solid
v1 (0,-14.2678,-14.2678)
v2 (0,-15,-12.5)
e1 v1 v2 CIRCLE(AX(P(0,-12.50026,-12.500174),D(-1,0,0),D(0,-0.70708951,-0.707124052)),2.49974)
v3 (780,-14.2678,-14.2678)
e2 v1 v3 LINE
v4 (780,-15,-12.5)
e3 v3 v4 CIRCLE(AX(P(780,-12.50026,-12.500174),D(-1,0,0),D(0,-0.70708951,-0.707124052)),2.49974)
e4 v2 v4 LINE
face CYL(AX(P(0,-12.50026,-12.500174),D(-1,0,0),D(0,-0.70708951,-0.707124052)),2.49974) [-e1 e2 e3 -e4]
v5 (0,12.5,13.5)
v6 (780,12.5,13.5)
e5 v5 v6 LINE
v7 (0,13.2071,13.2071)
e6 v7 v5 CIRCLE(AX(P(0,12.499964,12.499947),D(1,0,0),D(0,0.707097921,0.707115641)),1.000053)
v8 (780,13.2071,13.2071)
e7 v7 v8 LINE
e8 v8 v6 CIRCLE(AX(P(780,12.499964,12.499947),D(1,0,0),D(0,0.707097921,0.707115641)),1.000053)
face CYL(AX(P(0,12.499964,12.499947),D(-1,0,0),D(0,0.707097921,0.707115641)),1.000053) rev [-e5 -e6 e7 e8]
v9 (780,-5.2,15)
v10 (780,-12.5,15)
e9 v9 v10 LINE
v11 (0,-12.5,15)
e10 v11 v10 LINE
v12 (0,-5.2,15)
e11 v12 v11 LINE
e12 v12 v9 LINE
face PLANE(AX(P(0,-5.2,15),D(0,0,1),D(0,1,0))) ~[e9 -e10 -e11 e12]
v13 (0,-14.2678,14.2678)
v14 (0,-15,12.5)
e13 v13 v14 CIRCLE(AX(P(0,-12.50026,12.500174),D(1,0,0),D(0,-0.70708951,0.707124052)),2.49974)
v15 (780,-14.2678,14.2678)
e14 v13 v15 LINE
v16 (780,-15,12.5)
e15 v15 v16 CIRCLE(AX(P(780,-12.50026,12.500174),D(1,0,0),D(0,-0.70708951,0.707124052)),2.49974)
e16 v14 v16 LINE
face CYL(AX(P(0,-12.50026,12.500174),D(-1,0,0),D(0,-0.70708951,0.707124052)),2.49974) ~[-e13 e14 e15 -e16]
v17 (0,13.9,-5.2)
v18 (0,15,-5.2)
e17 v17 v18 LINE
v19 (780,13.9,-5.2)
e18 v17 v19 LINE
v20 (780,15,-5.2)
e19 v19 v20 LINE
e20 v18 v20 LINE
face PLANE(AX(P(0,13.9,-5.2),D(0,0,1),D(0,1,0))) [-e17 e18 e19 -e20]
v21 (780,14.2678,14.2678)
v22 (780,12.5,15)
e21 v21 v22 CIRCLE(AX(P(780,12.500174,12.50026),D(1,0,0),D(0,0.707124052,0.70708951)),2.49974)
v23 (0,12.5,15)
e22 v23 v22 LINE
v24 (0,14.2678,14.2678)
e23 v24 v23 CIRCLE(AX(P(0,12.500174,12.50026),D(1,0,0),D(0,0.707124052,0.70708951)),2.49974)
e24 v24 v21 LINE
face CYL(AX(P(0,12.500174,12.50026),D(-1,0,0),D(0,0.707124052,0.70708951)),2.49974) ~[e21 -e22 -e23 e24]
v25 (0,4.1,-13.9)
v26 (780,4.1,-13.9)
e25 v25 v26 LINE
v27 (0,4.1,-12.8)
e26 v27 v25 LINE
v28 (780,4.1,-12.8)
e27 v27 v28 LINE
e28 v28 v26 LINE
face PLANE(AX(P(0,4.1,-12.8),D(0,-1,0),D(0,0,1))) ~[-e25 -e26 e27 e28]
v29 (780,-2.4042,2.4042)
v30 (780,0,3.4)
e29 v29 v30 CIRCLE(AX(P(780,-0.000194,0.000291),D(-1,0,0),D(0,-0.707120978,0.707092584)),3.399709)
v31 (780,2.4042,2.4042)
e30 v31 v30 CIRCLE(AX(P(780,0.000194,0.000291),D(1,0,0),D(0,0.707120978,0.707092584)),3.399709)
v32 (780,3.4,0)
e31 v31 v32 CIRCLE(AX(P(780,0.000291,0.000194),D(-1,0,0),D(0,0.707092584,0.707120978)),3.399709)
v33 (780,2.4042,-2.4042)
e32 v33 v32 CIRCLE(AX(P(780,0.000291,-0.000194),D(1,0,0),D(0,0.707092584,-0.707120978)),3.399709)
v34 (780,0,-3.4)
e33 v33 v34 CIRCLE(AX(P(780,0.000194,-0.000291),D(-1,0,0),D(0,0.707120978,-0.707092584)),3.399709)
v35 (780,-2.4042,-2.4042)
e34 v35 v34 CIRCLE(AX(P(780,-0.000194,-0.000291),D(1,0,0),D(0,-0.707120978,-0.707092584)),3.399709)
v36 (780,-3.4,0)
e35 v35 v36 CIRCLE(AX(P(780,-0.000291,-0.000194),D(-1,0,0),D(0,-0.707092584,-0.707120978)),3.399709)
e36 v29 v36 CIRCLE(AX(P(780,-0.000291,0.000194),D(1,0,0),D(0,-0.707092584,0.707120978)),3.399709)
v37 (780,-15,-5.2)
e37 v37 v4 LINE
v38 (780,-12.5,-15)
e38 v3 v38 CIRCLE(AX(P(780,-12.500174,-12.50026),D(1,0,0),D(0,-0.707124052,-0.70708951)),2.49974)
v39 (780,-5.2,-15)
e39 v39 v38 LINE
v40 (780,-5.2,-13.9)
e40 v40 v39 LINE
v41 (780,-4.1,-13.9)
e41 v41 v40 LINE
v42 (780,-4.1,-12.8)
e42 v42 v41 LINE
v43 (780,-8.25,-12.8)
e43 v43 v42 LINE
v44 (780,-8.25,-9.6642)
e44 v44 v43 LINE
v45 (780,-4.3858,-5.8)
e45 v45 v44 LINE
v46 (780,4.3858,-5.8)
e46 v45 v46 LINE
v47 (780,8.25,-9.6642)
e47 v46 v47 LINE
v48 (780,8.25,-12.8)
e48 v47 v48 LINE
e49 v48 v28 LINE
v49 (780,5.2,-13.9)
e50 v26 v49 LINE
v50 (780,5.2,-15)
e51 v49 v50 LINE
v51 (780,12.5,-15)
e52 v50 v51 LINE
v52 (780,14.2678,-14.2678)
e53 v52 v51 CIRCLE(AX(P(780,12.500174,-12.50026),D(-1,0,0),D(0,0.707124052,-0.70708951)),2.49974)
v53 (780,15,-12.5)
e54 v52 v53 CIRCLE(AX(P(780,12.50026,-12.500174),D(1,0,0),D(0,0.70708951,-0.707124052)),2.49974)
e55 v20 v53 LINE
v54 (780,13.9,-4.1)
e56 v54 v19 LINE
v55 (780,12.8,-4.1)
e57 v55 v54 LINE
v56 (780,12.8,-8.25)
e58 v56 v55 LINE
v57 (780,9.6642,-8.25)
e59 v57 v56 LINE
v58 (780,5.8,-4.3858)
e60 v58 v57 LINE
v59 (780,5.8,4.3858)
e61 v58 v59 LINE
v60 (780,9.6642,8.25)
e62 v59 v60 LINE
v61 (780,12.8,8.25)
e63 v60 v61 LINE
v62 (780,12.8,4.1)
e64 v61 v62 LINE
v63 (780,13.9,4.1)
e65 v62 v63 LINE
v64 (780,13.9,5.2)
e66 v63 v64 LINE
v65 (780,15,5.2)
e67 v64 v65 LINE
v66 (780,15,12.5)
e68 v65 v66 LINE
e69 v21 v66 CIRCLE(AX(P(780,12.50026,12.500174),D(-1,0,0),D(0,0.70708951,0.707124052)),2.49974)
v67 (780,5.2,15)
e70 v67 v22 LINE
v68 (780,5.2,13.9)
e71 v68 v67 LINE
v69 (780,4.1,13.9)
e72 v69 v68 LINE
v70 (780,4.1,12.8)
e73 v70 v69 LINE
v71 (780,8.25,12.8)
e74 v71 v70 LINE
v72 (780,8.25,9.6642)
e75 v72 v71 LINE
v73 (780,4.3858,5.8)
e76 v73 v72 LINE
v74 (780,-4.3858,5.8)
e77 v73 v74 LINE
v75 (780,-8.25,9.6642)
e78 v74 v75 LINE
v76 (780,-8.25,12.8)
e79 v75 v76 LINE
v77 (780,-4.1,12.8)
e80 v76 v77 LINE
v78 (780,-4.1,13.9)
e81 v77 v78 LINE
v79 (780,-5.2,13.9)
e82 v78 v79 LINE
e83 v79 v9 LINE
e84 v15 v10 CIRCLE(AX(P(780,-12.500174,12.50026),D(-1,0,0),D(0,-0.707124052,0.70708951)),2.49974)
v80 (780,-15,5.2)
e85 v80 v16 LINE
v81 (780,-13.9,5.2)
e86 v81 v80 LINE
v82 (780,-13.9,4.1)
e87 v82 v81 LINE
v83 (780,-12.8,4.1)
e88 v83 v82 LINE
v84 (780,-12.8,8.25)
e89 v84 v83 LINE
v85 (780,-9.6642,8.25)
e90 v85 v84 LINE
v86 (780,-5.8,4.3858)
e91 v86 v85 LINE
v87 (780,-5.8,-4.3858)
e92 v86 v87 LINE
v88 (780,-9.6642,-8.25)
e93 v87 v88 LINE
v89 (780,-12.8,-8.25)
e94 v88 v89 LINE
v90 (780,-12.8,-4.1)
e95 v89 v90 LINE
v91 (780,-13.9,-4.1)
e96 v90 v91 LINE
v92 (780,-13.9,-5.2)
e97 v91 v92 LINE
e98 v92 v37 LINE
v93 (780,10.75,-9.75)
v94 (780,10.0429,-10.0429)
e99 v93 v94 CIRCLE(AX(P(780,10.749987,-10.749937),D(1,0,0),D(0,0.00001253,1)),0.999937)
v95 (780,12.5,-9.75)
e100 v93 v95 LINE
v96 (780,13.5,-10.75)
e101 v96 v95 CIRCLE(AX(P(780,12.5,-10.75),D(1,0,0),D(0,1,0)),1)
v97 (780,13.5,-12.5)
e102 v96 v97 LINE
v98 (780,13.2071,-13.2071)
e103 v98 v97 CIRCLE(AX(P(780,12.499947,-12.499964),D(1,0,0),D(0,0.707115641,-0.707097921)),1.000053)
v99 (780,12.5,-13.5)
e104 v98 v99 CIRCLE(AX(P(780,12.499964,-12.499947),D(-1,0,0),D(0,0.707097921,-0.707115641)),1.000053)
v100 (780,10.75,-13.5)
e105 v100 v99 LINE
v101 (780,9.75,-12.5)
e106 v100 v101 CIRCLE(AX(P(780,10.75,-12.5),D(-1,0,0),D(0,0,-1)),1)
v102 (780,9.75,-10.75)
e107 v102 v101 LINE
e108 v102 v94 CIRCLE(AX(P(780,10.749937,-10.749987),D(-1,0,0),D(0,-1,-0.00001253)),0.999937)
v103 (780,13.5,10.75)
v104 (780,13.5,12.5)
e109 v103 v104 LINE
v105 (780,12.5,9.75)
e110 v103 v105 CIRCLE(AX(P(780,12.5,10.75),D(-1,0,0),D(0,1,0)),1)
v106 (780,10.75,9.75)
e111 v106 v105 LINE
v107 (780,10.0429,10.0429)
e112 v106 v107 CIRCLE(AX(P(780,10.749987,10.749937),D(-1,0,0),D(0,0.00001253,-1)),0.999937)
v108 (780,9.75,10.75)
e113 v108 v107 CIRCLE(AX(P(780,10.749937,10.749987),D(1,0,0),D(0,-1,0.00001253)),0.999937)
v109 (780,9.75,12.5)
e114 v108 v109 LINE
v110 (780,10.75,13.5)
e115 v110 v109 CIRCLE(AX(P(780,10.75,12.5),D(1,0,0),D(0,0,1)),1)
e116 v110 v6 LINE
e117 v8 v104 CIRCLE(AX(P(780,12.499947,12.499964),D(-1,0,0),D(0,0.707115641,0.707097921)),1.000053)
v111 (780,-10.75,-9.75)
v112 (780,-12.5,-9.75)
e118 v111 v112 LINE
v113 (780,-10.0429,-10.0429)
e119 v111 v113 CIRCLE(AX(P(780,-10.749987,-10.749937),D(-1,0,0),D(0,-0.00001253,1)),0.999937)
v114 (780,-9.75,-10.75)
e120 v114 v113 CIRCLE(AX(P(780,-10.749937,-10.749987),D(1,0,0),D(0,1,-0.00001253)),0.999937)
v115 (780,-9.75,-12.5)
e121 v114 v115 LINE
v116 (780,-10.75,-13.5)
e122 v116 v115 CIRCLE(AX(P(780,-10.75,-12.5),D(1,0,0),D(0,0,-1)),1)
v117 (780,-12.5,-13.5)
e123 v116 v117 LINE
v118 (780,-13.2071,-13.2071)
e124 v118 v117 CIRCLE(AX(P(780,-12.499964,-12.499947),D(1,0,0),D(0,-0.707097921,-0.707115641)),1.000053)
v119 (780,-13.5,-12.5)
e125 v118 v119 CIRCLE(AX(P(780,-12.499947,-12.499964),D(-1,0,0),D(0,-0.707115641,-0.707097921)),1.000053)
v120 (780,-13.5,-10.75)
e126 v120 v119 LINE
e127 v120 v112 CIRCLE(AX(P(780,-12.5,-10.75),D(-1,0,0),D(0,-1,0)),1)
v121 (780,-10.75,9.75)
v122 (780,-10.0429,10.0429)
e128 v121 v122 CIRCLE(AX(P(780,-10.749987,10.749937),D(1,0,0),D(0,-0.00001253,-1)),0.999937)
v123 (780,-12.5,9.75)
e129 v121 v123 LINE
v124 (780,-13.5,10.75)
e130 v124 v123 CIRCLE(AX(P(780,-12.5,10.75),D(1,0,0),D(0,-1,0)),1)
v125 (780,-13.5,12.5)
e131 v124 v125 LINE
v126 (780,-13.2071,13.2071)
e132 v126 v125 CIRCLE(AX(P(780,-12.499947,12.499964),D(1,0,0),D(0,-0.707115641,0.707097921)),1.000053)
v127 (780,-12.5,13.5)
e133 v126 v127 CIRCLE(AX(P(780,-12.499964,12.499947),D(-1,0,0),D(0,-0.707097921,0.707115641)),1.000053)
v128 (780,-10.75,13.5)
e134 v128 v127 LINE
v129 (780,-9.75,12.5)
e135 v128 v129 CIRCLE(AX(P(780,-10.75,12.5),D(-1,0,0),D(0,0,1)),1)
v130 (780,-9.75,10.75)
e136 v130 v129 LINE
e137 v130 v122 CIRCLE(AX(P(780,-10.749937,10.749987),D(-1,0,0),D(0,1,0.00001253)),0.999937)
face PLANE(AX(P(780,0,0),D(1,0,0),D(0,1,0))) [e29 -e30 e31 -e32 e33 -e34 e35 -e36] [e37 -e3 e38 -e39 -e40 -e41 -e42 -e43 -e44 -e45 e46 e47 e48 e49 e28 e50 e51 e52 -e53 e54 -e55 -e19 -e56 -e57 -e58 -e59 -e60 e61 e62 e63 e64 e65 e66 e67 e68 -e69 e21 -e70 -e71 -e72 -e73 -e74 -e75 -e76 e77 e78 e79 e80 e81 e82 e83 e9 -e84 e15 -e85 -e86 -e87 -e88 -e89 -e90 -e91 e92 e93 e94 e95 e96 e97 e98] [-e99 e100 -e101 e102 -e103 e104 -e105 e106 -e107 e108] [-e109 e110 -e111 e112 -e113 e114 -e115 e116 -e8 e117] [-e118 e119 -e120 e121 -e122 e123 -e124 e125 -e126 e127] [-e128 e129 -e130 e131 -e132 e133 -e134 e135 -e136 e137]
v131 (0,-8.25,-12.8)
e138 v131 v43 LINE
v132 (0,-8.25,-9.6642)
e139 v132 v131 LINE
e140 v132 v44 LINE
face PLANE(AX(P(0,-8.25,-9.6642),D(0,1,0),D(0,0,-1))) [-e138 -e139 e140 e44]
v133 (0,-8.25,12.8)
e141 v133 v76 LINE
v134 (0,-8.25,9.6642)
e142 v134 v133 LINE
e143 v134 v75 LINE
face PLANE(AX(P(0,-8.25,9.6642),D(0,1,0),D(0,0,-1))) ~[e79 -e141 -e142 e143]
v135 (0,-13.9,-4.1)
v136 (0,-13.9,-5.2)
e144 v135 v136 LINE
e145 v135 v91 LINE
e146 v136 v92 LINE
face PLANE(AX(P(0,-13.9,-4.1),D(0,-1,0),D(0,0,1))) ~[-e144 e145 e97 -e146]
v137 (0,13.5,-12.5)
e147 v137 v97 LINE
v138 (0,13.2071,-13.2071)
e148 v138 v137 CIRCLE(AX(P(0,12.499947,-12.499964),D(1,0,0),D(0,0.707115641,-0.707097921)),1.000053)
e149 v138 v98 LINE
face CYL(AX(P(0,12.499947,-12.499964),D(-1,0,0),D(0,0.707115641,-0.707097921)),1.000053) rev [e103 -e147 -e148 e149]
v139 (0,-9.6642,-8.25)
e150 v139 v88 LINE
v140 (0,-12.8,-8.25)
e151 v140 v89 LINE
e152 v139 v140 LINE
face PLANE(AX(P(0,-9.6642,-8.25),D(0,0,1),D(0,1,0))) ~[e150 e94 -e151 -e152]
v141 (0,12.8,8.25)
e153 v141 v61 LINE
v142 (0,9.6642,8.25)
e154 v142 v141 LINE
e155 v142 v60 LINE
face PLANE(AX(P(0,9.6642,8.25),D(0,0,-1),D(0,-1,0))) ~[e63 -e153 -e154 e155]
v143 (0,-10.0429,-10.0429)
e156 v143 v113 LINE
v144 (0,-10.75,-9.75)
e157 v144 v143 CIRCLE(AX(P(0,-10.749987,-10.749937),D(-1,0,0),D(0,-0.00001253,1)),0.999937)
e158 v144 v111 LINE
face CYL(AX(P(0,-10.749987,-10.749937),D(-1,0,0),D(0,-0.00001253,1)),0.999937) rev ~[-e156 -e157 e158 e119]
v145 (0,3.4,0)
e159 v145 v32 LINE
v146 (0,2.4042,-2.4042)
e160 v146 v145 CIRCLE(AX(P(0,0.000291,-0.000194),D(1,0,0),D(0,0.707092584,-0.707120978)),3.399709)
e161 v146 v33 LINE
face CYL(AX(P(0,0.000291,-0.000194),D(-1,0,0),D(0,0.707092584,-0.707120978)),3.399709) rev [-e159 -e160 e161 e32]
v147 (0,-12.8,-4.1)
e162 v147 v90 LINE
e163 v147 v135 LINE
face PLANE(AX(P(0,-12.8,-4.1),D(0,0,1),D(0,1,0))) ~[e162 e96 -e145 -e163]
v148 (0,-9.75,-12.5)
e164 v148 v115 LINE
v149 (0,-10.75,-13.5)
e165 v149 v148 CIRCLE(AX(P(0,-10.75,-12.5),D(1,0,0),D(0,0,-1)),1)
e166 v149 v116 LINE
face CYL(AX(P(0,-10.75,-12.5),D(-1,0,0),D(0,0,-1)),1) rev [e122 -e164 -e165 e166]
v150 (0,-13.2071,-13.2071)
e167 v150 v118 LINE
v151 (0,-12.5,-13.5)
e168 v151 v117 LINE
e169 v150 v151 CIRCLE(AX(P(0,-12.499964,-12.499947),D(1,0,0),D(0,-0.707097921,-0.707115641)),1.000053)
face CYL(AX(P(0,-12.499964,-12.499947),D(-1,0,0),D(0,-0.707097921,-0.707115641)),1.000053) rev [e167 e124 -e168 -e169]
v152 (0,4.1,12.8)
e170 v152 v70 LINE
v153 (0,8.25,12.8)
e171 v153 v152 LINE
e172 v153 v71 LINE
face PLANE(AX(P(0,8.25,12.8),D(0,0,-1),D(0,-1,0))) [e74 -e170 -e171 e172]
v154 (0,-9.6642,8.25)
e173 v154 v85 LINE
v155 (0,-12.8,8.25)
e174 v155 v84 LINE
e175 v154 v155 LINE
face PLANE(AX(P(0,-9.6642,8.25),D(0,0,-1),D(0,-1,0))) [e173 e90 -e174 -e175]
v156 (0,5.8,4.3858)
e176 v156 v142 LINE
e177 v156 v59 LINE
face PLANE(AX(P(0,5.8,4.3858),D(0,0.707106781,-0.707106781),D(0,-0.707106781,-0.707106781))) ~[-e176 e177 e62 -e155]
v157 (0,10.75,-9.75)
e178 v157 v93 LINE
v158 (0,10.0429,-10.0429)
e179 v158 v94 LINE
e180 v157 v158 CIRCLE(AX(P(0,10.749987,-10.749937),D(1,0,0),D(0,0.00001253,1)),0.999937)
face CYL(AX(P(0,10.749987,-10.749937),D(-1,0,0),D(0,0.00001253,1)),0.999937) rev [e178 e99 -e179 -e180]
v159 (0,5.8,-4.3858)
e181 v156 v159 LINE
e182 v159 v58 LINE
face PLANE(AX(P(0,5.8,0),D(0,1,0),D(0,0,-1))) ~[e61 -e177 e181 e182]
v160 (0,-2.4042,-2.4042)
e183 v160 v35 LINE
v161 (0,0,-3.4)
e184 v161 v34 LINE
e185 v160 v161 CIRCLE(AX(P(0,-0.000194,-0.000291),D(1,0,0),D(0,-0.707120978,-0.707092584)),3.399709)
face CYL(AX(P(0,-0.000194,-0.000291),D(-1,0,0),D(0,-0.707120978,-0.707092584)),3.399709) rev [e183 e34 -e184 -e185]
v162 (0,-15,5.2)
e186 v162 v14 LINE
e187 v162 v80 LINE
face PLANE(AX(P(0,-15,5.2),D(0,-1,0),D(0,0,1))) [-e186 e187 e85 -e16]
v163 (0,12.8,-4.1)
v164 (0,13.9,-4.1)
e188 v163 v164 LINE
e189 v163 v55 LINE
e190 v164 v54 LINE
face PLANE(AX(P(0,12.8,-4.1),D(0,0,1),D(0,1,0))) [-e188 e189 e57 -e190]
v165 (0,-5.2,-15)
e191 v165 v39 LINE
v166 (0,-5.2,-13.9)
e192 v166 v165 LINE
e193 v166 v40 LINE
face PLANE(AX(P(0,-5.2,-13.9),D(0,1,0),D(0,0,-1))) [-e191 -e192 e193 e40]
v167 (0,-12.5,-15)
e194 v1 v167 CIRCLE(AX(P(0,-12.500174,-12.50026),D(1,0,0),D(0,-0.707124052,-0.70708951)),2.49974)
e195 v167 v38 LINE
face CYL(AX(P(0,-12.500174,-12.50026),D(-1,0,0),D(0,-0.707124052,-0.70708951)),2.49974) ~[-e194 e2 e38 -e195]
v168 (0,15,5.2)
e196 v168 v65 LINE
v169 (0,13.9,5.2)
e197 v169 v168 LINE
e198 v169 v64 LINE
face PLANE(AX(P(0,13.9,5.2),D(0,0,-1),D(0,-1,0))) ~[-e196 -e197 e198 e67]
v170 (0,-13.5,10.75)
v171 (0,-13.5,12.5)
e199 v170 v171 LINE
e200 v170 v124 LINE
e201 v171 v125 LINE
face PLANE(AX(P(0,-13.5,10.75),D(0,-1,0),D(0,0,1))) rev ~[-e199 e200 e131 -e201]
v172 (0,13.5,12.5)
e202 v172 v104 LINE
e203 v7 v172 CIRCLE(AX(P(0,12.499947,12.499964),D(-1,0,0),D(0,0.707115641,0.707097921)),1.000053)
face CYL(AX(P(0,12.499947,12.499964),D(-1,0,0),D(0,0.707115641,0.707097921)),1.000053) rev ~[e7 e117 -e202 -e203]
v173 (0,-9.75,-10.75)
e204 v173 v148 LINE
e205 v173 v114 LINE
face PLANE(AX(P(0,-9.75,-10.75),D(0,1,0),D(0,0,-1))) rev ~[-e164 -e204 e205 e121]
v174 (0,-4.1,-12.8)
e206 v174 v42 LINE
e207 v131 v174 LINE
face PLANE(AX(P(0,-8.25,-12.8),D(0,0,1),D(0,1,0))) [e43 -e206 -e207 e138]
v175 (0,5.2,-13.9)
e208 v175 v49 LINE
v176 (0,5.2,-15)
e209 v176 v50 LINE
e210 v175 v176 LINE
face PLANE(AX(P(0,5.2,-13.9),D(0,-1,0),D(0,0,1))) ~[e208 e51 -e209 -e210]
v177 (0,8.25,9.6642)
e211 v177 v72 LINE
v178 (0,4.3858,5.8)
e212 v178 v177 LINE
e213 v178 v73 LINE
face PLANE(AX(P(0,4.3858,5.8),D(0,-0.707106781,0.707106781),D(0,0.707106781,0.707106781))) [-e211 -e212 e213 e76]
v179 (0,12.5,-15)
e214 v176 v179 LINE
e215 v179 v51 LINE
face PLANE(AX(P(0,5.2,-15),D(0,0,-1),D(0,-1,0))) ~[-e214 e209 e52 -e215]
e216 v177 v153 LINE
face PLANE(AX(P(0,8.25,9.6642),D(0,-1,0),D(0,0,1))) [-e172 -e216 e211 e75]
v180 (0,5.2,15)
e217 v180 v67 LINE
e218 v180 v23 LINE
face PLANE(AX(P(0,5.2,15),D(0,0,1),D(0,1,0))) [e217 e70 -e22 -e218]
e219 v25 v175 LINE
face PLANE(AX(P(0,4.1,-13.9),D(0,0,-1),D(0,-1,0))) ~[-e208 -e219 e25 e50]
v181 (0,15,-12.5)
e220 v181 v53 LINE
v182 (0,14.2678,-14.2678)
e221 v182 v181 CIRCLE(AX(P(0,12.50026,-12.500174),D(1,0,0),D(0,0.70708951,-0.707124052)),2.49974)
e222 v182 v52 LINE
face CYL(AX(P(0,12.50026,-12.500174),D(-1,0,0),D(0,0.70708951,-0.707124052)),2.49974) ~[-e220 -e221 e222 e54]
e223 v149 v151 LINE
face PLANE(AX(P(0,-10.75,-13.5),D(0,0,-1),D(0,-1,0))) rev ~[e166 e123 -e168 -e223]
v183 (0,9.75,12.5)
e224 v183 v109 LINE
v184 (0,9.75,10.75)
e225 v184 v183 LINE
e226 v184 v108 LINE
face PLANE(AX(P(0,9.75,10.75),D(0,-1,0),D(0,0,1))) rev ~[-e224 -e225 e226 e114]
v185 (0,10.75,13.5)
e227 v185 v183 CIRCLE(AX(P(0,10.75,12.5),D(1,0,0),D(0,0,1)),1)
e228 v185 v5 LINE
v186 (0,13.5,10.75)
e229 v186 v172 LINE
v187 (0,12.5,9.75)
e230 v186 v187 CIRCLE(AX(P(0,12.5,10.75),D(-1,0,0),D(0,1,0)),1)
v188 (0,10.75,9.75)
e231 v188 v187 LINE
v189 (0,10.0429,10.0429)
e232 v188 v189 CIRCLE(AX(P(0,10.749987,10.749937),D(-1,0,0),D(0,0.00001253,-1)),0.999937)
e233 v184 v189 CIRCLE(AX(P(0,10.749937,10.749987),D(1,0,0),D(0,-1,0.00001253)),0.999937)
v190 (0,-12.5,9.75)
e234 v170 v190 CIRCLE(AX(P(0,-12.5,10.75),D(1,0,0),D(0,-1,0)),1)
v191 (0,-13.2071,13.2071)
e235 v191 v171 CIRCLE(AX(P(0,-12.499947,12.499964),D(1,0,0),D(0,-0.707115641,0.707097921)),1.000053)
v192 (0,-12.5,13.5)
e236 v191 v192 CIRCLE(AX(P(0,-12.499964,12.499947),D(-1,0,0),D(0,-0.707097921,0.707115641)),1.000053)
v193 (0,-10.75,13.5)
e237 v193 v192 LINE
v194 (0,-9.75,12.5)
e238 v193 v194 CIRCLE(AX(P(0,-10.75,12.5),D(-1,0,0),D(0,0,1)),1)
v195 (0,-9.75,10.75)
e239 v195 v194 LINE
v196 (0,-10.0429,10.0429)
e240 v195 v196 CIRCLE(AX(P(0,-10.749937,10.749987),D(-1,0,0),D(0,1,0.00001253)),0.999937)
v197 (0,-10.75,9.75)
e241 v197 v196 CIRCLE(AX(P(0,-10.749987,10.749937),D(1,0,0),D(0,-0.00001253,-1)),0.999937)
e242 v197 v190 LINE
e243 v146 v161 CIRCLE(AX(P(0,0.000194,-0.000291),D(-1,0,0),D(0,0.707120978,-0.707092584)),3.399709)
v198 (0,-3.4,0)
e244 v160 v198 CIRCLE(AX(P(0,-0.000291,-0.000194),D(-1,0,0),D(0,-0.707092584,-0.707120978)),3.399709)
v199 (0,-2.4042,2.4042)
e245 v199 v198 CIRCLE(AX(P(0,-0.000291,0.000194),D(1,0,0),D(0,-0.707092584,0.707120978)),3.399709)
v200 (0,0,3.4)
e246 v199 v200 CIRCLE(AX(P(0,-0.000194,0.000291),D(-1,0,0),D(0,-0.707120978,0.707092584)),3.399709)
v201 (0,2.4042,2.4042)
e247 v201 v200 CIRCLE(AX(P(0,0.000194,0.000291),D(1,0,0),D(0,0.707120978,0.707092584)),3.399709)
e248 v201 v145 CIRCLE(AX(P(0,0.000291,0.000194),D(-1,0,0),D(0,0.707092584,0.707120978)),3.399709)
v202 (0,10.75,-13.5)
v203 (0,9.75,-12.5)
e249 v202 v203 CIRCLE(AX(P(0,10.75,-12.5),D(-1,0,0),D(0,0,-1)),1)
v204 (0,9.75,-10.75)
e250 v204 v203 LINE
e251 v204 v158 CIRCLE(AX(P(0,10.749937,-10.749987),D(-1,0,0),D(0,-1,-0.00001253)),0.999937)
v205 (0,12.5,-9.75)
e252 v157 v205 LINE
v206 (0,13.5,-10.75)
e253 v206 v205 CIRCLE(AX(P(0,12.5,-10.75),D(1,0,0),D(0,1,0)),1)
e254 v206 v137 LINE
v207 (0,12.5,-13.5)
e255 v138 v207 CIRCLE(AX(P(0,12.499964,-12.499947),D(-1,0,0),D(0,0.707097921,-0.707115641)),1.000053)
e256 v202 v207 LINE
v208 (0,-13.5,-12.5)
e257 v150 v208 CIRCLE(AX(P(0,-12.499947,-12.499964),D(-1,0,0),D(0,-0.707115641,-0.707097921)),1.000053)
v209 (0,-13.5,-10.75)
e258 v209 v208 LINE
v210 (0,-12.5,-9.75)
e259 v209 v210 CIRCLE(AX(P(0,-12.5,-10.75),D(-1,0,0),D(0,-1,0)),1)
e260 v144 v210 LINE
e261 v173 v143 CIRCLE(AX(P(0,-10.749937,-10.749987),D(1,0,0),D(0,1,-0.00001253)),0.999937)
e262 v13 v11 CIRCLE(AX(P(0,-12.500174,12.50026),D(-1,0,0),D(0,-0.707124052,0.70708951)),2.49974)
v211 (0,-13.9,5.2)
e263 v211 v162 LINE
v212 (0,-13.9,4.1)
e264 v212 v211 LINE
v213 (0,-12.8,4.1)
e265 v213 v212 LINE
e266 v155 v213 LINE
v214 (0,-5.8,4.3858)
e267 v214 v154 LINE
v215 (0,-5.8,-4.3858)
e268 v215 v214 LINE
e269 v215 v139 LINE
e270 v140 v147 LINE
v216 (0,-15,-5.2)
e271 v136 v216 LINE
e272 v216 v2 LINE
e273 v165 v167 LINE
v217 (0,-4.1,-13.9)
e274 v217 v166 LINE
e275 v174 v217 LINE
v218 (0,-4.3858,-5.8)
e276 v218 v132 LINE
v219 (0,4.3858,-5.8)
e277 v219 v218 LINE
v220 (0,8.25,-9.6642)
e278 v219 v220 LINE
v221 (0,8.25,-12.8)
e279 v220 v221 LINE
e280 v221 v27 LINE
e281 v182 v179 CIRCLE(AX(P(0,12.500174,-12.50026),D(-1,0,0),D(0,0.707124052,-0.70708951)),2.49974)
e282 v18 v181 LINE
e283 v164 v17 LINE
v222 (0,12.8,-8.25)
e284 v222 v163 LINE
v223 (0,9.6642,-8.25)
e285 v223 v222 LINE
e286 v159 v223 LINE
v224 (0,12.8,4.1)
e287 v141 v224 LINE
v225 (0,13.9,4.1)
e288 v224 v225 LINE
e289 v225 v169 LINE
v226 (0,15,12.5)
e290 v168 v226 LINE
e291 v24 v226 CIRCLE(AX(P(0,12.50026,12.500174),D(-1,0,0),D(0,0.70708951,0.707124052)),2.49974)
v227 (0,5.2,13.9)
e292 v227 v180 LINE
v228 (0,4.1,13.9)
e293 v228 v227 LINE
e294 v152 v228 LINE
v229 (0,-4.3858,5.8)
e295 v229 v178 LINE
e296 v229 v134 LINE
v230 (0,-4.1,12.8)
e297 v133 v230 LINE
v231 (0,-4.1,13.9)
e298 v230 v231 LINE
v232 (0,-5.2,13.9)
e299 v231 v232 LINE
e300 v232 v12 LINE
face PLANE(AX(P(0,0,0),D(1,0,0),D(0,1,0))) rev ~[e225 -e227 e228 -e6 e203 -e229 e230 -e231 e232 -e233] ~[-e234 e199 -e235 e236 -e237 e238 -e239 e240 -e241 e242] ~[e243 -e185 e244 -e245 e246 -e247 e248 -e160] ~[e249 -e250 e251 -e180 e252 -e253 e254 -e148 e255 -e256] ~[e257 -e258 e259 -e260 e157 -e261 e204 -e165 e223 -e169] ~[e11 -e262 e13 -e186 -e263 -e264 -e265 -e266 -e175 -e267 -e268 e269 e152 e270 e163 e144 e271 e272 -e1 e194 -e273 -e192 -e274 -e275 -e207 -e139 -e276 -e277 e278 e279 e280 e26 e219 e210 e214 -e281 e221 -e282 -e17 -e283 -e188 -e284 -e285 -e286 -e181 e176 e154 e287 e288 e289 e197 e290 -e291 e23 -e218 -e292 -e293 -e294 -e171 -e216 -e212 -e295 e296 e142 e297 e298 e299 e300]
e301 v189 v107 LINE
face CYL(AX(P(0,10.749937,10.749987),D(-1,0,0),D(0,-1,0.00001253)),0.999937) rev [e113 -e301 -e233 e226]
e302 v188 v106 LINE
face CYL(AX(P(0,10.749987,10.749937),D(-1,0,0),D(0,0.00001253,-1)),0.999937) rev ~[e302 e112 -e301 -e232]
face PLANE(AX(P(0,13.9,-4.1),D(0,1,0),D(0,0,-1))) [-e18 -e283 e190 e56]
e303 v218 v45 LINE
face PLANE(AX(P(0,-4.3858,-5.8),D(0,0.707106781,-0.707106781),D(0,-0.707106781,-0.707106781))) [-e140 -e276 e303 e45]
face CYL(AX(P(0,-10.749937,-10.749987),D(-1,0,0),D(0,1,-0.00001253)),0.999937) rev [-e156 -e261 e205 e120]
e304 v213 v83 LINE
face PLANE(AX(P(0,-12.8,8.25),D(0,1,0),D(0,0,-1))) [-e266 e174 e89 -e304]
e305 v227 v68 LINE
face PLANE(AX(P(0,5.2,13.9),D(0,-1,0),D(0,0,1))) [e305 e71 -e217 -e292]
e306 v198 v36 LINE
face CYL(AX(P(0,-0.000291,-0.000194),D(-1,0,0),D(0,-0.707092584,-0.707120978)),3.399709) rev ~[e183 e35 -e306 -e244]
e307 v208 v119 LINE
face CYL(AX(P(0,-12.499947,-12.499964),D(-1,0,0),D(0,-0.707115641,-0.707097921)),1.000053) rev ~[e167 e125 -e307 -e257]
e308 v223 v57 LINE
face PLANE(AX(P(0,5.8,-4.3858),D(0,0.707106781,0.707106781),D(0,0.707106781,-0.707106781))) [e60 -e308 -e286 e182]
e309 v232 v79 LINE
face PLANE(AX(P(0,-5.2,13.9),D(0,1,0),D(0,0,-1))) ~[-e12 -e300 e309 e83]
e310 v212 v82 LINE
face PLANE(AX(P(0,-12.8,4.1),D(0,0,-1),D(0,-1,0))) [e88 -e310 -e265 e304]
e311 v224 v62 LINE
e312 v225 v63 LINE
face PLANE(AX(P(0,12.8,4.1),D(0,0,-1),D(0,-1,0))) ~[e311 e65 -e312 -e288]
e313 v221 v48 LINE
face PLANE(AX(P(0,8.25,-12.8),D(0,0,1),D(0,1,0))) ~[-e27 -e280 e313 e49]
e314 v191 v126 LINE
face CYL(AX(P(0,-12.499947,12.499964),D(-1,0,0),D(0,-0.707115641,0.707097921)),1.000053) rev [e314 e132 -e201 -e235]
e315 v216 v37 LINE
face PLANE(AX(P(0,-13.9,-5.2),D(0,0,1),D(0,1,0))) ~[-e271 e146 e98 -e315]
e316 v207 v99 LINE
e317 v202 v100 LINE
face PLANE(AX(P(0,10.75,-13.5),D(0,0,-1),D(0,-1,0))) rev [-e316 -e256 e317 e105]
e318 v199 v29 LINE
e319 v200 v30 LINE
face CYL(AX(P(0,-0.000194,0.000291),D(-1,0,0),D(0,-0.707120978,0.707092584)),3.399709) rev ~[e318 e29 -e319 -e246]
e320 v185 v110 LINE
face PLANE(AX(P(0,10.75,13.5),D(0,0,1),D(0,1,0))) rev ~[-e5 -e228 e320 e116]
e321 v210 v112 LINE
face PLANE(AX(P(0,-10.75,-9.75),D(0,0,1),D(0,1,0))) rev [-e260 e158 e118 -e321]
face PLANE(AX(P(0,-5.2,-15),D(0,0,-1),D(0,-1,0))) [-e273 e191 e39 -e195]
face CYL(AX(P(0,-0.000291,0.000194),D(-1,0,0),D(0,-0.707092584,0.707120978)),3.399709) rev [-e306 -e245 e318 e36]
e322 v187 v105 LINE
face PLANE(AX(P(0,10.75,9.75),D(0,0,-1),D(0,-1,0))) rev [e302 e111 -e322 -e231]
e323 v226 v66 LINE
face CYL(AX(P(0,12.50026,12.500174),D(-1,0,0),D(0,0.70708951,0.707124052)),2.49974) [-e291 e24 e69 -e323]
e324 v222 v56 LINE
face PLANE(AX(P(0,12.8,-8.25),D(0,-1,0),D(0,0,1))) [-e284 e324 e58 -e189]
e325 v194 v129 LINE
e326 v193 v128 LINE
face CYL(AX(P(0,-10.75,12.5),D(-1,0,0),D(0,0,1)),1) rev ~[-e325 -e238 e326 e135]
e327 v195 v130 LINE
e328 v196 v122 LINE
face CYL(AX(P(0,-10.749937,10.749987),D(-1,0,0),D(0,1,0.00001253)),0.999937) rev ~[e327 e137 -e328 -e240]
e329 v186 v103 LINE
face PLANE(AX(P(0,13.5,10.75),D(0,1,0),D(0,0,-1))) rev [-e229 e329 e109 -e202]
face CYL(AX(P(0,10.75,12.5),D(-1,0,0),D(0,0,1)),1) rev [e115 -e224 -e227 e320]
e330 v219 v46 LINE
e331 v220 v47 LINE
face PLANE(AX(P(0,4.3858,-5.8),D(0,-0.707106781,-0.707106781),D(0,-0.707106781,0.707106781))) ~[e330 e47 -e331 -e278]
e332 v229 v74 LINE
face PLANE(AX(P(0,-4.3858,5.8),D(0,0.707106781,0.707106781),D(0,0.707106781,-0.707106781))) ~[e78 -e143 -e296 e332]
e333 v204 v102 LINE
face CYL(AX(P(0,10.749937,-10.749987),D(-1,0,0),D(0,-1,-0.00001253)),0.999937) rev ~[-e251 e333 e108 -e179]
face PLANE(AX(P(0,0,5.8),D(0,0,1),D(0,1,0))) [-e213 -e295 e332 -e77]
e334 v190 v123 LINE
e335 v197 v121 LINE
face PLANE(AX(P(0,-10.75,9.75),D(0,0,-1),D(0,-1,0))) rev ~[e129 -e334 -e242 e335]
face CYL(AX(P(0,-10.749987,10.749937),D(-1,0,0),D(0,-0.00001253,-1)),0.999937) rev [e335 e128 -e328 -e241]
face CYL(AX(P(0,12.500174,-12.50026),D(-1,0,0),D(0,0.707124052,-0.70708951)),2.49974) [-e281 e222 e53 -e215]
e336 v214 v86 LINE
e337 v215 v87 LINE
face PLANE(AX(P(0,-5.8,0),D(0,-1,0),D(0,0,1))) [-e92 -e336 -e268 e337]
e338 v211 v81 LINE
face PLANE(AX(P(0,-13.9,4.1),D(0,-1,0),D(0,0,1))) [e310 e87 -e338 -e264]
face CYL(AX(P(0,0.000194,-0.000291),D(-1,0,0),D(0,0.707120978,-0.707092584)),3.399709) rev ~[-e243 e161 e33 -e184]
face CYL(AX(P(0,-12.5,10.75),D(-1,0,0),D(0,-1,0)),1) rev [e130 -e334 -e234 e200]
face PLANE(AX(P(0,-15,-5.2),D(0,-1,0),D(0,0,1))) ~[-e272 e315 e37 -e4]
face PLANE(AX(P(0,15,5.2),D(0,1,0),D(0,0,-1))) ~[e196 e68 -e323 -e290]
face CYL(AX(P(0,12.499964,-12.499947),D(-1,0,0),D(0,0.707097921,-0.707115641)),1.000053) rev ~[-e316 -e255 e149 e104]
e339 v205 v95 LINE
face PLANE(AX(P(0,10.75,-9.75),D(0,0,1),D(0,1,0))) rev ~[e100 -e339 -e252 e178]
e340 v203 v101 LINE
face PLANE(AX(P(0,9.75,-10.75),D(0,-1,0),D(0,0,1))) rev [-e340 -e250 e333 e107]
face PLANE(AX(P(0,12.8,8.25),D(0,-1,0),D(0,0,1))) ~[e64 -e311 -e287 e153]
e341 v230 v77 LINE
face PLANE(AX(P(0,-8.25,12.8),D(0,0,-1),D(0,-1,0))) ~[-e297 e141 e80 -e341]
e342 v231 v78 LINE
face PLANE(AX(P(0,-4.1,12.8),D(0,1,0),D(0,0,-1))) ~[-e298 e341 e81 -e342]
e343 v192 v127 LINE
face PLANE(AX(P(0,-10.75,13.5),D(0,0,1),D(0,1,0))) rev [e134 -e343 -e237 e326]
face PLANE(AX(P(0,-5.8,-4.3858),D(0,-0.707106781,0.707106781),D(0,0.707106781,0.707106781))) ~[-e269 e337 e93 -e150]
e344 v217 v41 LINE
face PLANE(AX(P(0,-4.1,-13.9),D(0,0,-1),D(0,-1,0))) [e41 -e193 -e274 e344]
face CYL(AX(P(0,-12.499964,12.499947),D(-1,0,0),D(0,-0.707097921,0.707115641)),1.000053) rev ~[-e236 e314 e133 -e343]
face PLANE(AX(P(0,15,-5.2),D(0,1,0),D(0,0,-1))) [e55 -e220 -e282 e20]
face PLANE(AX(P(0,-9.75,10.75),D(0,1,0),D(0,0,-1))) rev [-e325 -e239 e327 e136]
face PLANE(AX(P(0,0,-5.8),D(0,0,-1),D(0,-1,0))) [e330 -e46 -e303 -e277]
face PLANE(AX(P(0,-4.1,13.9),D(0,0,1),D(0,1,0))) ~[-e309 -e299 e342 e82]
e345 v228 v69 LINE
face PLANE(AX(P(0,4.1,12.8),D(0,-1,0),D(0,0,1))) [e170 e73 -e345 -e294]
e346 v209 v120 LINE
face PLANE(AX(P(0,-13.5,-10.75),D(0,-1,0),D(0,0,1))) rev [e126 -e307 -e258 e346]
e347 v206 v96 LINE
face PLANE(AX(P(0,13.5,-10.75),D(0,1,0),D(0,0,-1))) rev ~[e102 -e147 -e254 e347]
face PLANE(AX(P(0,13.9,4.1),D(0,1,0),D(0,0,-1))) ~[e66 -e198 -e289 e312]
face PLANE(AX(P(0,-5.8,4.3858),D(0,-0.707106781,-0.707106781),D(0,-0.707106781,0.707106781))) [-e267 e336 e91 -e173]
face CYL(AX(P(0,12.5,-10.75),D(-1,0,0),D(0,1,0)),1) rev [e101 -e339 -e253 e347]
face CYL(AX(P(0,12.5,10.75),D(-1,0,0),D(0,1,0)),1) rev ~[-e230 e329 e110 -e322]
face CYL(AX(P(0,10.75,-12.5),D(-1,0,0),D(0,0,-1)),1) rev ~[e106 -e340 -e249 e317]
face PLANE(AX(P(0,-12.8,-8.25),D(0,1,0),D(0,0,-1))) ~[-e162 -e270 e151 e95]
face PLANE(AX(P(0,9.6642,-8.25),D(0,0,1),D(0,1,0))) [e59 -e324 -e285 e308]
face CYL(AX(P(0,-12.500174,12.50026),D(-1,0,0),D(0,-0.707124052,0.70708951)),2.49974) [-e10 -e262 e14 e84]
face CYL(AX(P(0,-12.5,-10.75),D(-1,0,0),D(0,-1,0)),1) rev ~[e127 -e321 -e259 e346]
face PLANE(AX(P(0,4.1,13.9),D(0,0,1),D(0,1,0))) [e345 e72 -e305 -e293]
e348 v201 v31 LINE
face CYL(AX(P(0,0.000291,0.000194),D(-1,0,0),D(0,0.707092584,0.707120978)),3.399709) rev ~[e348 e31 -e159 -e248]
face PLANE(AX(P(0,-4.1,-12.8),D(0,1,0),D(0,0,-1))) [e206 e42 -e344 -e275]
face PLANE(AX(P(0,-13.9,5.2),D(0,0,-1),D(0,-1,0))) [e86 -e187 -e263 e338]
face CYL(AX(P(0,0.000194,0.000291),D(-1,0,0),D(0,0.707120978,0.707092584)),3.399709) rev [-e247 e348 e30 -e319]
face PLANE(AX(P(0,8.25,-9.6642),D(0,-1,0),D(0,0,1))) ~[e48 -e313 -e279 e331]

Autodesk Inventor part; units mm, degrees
ref_plane "YZ Plane" through (0, 0, 0) normal (1, 0, 0) x (0, 1, 0)
ref_plane "XZ Plane" through (0, 0, 0) normal (0, 1, 0) x (-1, 0, 0)
ref_plane "XY Plane" through (0, 0, 0) normal (0, 0, 1) x (1, 0, 0)
sketch "Sketch1" plane through (0, 0, 0) normal (1, 0, 0) x (0, 1, 0)
  arc A0 (2.4042, 2.4042) -> (0, 3.4) centre (0, 0) ccw
  line L0 (0, 3.4) -> (0, 5.8)
  line L1 (0, 5.8) -> (4.3858, 5.8)
  line L2 (4.3858, 5.8) -> (8.25, 9.6642)
  line L3 (8.25, 9.6642) -> (8.25, 12.8)
  line L4 (8.25, 12.8) -> (4.1, 12.8)
  line L5 (4.1, 12.8) -> (4.1, 13.9)
  line L6 (4.1, 13.9) -> (5.2, 13.9)
  line L7 (5.2, 13.9) -> (5.2, 15)
  line L8 (5.2, 15) -> (12.5, 15)
  arc A1 (14.2678, 14.2678) -> (12.5, 15) centre (12.5, 12.5) ccw
  line L9 (14.2678, 14.2678) -> (13.2071, 13.2071)
  line L10 (9.75, 9.75) -> (9.75, 10.75) construction
  line L11 (10.75, 13.5) -> (12.5, 13.5)
  arc A2 (9.75, 10.75) -> (10.0429, 10.0429) centre (10.75, 10.75) ccw
  arc A3 (13.2071, 13.2071) -> (12.5, 13.5) centre (12.5, 12.5) ccw
  arc A4 (10.75, 13.5) -> (9.75, 12.5) centre (10.75, 12.5) ccw
  line L12 (12.5, 13.5) -> (13.5, 13.5) construction
  line L13 (9.75, 10.75) -> (9.75, 12.5)
  line L14 (13.2071, 13.2071) -> (10.0429, 10.0429) construction
  line L15 (10.0429, 10.0429) -> (2.4042, 2.4042)
  point P0 (8.25, 11.2321)
  dimension "d0" = 3.4
  dimension "d1" = 45
  dimension "d3" = 45
  dimension "d4" = 2.5
  dimension "d5" = 135
  dimension "d6" = 1
  dimension "d7" = 4.1
  dimension "d8" = 5.2
  dimension "d9" = 8.25
  dimension "d10" = 15
  dimension "d11" = 2.2
  dimension "d12" = 5.8
  dimension "d13" = 1.5
  dimension "d14" = 1.5
  dimension "d15" = 1
  dimension "d16" = 1
  dimension "d17" = 1
extrude "Extrusion1" add sketch "Sketch1" along normal blind 780
mirror "Mirror1" about plane through (0, 2.4042, 2.4042) normal (0, 0.7071, -0.7071)
pattern_circular "Circular Pattern1" count 4 over 360 about axis through (-10, 0, 0) along (1, 0, 0)
properties part number "3030_Extrusion"
